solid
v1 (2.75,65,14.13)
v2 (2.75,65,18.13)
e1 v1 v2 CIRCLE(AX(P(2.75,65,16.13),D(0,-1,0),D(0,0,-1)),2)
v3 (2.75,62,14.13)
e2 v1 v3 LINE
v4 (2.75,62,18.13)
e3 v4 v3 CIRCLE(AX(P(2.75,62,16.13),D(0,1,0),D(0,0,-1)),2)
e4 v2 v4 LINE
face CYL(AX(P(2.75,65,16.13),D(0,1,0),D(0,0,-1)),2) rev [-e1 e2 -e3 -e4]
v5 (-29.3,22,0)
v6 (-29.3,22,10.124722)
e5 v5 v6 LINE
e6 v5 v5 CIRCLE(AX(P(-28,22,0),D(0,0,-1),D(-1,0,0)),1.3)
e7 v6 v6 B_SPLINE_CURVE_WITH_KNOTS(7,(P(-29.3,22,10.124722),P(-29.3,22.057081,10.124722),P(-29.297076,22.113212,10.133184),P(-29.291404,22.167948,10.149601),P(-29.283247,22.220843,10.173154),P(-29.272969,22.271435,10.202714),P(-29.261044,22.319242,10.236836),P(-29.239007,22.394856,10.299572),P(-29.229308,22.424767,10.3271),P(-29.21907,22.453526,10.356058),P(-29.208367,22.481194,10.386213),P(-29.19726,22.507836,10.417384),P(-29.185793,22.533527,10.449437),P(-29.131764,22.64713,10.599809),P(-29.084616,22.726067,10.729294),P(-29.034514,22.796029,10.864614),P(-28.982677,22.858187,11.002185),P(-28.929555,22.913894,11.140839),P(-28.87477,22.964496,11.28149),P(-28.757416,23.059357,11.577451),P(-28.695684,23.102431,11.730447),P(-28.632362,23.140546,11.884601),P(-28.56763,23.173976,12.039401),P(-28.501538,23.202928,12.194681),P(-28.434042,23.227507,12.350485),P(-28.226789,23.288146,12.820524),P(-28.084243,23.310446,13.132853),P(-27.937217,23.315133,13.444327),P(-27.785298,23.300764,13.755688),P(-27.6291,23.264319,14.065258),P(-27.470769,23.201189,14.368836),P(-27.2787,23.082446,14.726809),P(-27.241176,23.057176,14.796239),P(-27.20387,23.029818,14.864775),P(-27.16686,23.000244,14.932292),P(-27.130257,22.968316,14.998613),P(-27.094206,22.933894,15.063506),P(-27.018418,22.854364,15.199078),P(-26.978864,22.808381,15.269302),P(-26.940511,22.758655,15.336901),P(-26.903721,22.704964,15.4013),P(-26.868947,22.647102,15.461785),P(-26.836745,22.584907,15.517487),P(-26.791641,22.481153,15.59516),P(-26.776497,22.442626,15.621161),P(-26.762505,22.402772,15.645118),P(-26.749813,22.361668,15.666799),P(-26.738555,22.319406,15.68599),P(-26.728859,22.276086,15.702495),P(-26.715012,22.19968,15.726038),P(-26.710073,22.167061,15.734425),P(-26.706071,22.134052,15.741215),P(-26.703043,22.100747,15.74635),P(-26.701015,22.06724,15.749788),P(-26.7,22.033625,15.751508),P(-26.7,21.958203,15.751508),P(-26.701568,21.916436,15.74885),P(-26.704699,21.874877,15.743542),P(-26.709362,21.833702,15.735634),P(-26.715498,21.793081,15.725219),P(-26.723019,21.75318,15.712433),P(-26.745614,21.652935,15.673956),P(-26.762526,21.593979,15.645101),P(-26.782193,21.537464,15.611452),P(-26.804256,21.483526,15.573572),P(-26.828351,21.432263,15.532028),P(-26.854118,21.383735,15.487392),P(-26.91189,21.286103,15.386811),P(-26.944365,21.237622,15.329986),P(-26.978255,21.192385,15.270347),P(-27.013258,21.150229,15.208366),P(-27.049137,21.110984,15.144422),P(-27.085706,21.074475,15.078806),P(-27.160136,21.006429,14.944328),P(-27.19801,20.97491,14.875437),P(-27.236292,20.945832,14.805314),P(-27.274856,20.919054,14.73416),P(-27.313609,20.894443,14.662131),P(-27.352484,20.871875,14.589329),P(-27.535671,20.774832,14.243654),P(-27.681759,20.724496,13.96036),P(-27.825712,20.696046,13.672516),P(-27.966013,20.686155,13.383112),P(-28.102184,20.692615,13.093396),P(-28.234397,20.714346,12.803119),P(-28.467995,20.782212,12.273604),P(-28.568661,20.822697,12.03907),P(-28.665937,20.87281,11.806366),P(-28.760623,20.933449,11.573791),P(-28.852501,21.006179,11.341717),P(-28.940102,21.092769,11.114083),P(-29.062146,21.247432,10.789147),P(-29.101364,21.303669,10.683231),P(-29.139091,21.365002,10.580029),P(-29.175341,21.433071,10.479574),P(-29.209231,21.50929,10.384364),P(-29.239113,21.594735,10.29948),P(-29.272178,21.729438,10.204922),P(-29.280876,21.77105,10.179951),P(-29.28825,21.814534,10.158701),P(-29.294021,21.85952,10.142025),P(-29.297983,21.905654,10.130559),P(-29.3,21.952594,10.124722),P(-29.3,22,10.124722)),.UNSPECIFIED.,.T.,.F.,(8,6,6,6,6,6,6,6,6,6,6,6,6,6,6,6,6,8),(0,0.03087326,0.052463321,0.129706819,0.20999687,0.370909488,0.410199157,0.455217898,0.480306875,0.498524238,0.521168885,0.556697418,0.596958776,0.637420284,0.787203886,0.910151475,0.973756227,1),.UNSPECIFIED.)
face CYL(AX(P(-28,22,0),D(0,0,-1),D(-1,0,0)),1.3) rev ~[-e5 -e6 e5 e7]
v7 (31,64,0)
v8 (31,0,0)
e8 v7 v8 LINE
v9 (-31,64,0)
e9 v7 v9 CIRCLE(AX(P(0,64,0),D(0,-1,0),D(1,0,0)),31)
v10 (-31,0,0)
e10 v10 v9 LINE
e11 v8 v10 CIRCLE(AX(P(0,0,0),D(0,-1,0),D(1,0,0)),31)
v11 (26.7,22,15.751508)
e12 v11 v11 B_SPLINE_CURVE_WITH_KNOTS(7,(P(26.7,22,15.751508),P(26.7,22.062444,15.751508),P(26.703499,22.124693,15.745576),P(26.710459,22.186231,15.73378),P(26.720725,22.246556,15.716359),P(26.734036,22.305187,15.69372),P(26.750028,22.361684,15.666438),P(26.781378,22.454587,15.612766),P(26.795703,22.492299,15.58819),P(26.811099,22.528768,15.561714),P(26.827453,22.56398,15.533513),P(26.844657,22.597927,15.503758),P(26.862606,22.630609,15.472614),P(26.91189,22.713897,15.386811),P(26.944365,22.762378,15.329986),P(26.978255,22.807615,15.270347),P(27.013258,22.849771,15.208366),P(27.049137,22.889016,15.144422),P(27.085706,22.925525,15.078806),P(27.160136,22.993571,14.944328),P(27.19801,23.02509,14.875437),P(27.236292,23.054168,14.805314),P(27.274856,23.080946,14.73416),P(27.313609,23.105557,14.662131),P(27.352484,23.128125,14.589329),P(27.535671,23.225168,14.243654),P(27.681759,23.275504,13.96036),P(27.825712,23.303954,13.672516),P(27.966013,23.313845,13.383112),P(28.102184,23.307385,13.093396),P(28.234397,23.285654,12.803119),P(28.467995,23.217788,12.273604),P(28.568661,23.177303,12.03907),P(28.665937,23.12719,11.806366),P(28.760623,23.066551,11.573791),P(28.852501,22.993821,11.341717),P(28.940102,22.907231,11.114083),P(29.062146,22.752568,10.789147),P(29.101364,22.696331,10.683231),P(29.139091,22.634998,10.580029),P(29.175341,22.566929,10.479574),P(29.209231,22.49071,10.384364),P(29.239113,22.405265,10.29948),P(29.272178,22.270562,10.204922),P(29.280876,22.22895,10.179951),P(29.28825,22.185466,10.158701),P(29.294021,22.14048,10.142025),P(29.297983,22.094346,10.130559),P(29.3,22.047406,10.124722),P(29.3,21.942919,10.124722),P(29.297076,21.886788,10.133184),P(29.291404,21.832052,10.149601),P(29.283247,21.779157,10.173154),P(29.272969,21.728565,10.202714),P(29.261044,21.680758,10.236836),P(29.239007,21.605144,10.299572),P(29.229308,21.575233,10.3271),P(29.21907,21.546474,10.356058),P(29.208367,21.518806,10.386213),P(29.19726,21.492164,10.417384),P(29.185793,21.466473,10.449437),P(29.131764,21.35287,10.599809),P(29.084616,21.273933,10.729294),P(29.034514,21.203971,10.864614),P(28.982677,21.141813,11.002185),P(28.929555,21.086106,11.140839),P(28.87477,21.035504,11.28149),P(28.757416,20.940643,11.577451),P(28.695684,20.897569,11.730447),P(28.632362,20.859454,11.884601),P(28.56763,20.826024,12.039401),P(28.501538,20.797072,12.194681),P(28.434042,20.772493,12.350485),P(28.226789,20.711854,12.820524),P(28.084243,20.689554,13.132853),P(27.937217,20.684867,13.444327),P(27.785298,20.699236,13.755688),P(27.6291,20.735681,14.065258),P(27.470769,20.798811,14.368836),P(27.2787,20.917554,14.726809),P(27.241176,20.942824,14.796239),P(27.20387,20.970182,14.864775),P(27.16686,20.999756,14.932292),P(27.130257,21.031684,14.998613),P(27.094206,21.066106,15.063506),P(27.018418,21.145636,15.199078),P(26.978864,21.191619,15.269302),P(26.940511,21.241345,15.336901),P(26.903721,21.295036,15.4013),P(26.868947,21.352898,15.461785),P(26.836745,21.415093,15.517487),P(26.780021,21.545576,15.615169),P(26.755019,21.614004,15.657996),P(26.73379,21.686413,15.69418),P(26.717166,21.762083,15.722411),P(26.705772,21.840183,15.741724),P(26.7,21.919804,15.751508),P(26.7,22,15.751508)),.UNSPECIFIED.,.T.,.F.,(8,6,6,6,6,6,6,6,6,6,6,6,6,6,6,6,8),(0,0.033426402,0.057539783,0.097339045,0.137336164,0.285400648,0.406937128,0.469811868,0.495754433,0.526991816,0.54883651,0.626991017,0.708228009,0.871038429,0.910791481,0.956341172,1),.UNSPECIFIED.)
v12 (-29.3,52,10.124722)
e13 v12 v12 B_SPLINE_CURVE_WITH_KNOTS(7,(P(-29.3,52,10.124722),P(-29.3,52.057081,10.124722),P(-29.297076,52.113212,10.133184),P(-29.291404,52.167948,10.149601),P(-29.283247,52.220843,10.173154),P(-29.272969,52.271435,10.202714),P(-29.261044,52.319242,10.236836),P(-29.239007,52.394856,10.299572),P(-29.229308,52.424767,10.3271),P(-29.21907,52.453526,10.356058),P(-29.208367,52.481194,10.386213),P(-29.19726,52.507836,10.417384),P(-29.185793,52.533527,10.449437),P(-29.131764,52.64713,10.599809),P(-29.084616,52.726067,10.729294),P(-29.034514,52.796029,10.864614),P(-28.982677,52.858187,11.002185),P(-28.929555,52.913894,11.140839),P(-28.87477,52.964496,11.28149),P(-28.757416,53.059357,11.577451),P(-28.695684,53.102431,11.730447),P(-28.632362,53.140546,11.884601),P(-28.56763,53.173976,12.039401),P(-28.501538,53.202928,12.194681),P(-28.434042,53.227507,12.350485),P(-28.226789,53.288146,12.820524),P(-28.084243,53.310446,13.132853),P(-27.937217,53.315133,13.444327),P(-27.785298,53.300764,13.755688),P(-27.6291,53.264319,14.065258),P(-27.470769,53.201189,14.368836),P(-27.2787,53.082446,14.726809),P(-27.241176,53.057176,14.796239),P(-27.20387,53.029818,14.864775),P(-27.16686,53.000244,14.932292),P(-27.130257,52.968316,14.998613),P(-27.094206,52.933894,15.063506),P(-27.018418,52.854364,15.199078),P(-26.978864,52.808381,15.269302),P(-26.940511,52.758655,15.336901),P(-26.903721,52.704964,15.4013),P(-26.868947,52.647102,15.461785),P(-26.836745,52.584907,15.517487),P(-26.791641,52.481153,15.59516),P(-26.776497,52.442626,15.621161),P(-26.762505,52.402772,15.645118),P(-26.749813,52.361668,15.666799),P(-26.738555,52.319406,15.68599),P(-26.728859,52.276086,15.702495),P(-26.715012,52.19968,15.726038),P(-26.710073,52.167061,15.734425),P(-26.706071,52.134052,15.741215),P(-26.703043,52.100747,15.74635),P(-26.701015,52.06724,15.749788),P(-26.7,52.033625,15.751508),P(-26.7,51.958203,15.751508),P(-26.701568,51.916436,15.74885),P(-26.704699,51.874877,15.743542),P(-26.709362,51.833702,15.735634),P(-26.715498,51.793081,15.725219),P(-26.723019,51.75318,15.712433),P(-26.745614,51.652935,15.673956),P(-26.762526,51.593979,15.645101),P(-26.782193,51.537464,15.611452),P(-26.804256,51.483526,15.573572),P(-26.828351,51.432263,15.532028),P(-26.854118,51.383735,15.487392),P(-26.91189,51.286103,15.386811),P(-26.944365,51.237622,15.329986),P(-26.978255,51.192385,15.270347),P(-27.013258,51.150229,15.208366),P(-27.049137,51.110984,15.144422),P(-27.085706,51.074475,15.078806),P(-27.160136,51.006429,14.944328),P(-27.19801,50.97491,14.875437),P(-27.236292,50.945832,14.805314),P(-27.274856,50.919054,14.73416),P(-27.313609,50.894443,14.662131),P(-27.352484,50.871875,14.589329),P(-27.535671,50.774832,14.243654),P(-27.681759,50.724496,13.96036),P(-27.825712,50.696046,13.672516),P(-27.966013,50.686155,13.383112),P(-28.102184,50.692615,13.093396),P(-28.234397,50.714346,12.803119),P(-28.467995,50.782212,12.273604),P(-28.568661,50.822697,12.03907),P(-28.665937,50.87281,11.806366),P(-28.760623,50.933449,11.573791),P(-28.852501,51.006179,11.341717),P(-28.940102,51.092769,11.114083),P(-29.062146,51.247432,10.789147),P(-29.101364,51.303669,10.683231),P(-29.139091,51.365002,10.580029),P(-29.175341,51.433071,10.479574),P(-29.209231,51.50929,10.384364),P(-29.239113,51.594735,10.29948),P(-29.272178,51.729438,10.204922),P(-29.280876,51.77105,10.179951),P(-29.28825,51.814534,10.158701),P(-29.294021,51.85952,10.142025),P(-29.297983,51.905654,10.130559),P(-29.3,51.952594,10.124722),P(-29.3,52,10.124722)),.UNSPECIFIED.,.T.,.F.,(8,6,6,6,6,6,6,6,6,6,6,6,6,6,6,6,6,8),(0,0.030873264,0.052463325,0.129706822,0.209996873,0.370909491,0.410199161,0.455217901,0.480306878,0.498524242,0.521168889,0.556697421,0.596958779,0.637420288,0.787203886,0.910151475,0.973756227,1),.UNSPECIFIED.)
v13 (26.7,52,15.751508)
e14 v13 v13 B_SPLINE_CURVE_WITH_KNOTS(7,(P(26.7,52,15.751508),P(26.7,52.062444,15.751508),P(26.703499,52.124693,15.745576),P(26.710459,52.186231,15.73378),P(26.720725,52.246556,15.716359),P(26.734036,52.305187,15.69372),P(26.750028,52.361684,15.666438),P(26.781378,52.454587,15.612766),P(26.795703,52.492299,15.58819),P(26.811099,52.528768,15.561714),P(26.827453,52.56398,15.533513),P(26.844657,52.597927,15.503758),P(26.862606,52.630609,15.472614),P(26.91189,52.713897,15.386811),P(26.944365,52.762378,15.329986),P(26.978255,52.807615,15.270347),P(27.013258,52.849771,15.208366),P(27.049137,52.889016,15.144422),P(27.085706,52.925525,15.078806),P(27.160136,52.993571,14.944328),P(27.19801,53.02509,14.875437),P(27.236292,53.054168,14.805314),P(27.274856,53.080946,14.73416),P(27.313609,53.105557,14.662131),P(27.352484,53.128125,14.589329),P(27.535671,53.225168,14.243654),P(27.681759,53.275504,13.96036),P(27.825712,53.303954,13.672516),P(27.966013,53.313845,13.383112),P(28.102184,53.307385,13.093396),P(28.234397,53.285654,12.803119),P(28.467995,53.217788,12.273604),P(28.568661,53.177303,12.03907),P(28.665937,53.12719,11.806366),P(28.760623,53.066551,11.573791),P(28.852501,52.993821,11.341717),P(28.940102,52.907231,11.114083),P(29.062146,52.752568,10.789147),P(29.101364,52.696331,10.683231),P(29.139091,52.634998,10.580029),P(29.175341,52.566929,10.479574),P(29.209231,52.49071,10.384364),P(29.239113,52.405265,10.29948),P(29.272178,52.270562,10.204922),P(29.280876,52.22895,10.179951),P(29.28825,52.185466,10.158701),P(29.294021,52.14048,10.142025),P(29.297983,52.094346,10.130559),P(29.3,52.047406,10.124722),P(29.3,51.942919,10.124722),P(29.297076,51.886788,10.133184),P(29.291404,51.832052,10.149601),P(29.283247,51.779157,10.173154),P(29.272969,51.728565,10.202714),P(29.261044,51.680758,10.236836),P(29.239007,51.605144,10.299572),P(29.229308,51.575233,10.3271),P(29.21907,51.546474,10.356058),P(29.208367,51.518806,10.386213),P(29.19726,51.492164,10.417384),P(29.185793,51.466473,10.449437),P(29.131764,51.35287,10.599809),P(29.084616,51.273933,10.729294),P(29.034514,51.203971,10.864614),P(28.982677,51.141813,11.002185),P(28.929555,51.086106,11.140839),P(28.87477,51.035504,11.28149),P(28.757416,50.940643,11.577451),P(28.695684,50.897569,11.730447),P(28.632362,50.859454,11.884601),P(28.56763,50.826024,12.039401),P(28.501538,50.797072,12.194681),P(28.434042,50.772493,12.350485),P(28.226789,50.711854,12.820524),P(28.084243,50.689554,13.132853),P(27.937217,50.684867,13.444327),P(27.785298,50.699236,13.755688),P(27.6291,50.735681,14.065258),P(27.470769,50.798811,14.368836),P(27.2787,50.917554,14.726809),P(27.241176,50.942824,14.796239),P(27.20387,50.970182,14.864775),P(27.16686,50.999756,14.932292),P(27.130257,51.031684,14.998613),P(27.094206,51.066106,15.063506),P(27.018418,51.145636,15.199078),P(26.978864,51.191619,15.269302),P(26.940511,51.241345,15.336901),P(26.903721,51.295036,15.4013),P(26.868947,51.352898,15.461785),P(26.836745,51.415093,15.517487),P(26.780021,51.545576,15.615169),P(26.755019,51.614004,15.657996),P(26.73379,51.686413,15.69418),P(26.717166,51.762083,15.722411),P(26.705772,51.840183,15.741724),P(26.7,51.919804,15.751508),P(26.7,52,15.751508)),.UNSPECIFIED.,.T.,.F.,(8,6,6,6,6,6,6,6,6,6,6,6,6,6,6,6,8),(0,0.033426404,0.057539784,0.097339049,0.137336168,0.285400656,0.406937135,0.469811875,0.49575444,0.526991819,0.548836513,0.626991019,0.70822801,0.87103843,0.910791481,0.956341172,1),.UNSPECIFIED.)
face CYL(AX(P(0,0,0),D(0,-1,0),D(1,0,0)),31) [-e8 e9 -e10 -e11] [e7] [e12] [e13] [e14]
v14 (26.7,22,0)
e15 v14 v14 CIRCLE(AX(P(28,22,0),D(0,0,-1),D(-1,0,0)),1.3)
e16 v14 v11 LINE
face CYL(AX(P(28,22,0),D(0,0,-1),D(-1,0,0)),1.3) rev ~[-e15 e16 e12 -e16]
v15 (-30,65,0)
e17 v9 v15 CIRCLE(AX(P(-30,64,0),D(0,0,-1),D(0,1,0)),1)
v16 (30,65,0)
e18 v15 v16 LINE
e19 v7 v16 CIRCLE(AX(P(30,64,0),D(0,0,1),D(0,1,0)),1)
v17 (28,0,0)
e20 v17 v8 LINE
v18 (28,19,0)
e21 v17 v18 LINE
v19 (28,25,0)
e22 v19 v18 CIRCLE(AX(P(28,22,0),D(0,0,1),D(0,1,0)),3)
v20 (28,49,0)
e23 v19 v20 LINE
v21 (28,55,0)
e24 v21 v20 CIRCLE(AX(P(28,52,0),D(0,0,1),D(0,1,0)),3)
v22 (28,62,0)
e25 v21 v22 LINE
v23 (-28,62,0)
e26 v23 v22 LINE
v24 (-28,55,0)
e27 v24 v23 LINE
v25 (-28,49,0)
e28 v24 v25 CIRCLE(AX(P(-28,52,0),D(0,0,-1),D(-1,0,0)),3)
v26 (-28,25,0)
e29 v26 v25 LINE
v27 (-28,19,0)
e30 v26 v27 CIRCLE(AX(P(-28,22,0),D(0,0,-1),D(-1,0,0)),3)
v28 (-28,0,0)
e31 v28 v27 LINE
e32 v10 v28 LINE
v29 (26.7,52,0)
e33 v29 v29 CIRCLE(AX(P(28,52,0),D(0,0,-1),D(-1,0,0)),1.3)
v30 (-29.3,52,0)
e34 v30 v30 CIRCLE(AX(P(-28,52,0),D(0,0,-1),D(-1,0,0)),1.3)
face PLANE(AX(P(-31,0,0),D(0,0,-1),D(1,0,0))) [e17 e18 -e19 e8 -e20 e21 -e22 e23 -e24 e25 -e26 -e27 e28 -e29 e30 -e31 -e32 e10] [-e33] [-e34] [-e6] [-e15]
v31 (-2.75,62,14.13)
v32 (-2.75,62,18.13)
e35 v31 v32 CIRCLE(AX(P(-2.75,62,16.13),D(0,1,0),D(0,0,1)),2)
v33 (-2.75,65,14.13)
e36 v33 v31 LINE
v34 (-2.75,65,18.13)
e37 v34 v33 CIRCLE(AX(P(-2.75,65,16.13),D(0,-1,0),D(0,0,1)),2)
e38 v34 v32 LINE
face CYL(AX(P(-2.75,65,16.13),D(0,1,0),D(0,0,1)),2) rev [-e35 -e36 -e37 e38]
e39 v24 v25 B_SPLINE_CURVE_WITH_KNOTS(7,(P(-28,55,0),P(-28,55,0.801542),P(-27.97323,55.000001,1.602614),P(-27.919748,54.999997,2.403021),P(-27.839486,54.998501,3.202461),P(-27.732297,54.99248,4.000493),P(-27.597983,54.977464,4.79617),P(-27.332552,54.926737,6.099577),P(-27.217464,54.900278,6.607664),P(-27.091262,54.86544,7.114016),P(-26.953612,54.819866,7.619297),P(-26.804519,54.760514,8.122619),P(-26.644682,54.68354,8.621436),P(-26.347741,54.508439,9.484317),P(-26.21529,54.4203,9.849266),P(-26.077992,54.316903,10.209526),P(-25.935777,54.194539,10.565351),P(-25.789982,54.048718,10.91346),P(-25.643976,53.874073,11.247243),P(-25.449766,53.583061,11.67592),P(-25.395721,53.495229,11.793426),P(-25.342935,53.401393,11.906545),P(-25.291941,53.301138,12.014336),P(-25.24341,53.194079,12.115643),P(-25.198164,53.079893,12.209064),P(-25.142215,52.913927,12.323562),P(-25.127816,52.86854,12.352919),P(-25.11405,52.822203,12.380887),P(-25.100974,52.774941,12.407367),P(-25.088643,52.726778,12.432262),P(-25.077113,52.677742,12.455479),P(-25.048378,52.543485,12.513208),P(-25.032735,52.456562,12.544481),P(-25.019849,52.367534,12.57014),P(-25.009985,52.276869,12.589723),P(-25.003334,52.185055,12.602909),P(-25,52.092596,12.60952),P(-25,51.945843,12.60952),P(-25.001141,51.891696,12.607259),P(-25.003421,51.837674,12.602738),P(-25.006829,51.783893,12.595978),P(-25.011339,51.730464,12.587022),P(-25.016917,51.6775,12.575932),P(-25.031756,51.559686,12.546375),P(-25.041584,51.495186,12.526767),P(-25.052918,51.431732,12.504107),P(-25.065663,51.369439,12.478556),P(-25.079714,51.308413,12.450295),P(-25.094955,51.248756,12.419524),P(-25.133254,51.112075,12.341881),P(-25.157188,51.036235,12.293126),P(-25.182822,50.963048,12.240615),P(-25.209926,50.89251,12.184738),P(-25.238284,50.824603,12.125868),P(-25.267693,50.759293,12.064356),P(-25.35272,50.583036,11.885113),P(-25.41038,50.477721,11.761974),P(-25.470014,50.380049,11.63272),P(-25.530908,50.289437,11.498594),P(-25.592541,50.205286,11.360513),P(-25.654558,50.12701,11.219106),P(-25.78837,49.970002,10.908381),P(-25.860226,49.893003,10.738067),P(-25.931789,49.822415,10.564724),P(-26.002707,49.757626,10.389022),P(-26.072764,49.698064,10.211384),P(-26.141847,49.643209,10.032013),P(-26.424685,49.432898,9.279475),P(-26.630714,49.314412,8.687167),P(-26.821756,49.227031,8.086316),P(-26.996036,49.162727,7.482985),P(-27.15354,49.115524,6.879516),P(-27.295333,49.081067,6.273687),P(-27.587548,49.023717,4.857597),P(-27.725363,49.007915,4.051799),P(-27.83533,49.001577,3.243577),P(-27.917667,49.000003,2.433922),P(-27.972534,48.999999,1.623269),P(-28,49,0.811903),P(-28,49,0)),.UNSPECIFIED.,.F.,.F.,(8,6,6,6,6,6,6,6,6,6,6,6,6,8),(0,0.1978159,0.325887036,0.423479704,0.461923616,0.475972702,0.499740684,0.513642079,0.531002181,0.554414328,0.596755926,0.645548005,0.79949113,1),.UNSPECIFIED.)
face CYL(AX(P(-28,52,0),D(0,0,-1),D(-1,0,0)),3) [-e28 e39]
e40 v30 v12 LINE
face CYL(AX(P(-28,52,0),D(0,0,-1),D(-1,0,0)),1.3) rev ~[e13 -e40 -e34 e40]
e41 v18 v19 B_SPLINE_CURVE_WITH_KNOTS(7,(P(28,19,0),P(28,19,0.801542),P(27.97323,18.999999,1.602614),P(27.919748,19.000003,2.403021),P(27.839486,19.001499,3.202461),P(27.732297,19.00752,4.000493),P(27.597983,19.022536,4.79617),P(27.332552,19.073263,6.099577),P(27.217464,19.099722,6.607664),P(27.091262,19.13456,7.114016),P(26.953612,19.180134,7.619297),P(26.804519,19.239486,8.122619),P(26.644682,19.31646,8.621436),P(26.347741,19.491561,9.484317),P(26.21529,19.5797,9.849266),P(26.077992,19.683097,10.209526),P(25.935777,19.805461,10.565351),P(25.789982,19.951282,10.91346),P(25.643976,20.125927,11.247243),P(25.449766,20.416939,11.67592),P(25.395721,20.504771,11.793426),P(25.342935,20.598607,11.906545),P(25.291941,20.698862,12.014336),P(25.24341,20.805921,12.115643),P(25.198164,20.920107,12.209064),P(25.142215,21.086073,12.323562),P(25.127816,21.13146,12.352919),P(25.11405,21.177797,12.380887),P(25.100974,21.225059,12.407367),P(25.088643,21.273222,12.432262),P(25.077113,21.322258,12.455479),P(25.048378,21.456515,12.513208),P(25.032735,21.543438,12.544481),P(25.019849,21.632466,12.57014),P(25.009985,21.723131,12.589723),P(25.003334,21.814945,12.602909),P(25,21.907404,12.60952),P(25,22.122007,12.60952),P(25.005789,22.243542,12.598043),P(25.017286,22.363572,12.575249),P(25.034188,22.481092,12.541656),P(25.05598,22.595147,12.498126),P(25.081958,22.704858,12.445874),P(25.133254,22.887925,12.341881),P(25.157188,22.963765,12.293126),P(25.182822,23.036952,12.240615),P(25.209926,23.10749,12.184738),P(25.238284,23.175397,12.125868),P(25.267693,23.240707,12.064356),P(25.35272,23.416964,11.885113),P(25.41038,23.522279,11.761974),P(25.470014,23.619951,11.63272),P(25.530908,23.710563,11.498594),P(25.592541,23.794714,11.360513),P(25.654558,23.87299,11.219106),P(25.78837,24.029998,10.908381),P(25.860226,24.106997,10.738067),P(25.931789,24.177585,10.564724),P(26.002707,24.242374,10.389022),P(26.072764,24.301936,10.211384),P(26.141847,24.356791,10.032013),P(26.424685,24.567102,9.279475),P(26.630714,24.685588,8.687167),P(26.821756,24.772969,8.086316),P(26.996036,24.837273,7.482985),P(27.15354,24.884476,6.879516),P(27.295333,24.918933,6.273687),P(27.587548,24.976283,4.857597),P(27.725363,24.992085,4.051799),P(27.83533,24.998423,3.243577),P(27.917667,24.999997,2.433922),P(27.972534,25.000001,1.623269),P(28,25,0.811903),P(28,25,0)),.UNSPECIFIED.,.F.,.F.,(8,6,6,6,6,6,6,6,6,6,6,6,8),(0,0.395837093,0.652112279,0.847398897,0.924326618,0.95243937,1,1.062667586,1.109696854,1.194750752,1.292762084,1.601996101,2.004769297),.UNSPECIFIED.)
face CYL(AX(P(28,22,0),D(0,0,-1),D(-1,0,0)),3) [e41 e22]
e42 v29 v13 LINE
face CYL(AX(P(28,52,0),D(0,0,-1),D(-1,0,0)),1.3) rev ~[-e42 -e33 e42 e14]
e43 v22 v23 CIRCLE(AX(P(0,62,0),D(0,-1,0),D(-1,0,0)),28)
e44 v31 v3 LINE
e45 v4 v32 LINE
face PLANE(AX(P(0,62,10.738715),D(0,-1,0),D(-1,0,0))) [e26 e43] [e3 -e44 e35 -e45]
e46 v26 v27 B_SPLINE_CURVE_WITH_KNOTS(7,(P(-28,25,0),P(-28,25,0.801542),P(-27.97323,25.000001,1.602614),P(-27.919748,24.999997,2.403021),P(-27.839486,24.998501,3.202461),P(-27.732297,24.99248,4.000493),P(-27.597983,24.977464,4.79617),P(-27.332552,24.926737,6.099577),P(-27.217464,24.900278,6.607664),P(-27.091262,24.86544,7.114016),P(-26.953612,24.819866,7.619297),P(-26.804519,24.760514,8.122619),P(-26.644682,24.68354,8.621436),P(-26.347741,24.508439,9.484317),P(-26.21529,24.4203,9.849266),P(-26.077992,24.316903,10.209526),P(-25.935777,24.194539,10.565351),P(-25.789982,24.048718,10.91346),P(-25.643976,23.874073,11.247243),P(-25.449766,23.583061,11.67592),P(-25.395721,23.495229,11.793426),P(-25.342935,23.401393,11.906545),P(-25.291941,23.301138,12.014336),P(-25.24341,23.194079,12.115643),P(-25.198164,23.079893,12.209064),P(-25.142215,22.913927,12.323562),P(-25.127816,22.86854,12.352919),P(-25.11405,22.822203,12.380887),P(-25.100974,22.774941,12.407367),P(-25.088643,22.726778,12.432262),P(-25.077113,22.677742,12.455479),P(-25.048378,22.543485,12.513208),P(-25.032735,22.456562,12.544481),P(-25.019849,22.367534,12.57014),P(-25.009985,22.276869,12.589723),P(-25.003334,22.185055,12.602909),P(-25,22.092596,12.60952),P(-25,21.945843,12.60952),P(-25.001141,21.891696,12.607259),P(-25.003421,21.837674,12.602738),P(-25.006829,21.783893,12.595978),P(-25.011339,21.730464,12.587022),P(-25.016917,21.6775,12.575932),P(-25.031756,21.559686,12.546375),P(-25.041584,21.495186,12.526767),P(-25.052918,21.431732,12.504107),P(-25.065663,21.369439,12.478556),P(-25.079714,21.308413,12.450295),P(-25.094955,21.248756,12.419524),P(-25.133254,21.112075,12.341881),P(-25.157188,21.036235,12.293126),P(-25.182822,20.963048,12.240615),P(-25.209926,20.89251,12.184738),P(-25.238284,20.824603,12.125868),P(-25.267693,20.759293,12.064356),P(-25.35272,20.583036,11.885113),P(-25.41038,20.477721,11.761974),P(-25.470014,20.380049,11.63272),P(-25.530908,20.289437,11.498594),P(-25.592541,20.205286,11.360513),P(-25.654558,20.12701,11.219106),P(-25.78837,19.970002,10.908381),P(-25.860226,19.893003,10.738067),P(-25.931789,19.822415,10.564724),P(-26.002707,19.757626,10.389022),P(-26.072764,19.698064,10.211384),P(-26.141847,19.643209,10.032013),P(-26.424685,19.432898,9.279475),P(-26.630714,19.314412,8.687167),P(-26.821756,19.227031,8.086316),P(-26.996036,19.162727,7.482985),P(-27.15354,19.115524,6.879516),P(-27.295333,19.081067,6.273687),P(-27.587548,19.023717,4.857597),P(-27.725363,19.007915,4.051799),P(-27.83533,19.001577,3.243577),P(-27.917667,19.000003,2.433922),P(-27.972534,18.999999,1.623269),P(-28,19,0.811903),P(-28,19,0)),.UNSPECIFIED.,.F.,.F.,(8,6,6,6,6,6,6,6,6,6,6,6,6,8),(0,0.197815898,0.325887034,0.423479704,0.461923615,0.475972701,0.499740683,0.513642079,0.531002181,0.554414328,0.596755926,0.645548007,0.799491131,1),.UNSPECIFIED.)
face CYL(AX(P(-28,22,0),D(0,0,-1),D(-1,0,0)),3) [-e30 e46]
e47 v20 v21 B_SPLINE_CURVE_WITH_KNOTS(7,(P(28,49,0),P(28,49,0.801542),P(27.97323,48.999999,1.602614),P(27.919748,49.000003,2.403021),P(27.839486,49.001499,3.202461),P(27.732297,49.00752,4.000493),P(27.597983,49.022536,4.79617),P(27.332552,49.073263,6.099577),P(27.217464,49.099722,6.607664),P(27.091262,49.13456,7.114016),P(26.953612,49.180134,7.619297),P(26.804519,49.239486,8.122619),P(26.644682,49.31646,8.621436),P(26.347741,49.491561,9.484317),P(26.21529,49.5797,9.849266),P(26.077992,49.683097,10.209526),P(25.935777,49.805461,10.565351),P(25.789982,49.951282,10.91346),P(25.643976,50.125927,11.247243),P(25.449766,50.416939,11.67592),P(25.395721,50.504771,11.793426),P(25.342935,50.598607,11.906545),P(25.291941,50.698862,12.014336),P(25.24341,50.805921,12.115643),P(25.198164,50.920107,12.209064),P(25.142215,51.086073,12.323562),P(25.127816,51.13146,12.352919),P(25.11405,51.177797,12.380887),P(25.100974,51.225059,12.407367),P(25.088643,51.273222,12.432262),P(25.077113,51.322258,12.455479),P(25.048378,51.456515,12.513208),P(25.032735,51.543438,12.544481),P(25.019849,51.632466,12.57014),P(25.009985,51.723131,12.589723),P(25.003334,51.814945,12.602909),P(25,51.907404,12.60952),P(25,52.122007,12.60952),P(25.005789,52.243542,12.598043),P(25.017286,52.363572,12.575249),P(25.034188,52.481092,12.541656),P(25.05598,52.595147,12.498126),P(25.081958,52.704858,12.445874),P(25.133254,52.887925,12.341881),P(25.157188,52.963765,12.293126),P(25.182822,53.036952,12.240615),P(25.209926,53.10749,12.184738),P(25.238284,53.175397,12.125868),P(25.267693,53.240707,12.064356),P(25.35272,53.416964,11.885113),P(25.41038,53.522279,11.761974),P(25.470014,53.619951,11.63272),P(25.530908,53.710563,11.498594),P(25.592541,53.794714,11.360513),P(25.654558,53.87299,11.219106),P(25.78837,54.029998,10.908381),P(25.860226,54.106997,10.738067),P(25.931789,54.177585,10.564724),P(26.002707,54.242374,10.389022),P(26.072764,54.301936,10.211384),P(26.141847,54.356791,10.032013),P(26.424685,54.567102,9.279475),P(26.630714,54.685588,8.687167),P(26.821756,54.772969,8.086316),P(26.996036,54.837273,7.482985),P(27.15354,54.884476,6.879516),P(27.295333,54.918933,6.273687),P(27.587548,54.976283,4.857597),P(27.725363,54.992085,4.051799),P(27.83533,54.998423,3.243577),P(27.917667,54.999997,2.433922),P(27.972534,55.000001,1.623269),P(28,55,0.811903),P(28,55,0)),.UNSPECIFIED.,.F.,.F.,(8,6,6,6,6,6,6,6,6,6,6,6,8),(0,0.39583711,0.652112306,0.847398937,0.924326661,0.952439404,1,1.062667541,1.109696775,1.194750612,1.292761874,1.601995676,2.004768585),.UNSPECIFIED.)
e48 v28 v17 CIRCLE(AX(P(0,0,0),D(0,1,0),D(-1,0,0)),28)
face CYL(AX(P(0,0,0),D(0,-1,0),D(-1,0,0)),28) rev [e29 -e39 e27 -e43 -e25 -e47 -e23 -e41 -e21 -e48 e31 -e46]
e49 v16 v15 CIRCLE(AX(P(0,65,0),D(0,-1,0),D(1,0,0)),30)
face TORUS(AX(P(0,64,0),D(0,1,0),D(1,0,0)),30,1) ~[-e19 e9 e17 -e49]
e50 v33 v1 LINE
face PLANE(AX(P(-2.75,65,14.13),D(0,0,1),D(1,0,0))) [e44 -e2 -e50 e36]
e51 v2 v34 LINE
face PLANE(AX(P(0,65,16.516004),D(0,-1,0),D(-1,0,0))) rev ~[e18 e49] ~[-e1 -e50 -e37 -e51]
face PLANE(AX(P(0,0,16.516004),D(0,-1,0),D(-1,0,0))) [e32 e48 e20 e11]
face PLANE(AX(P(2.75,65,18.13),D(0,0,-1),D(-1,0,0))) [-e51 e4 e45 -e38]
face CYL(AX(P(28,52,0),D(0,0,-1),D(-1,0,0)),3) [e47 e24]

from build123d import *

# Parameters (mm, degrees)
EXTRUDE_1_DEPTH     = 65
EXTRUDE_5_REACH     = 80.403
SKETCH_12_R         = 3
SKETCH_16_R         = 1.3
CUT_EXTRUDE_2_DEPTH = 79.402806155
EXTRUDE_START       = -3
EXTRUDE_6_DEPTH     = 3
FILLET_1_R          = 1
CUT_EXTRUDE_3_REACH = 80.403


with BuildPart() as part:
    # Эскиз1 → Бобышка-Вытянуть1 (new body)
    with BuildSketch(Plane(origin=(0, 0, 0), x_dir=(1, 0, 0), z_dir=(0, 1, 0))):
        with BuildLine():
            Line((-31, 0), (-28, 0))
            ThreePointArc((-28, 0), (0, -28), (28, 0))
            Line((28, 0), (31, 0))
            ThreePointArc((31, 0), (0, -31), (-31, 0))
        make_face()
    extrude(amount=EXTRUDE_1_DEPTH)

    # Эскиз12 → Бобышка-Вытянуть5 (add, up to next)
    with BuildSketch(Plane(origin=(0, 0, 0), x_dir=(-1, 0, 0), z_dir=(0, 0, -1)), mode=Mode.PRIVATE) as extrude_5_sk1:
        with Locations((28, 52)):
            Circle(SKETCH_12_R)
    extrude_5_tool1 = extrude(extrude_5_sk1.sketch, amount=-EXTRUDE_5_REACH, mode=Mode.PRIVATE) - part.part
    # Эскиз12 → Бобышка-Вытянуть5 (add, up to next)
    with BuildSketch(Plane(origin=(0, 0, 0), x_dir=(-1, 0, 0), z_dir=(0, 0, -1)), mode=Mode.PRIVATE) as extrude_5_sk2:
        with Locations((28, 22)):
            Circle(SKETCH_12_R)
    extrude_5_tool2 = extrude(extrude_5_sk2.sketch, amount=-EXTRUDE_5_REACH, mode=Mode.PRIVATE) - part.part
    # Эскиз12 → Бобышка-Вытянуть5 (add, up to next)
    with BuildSketch(Plane(origin=(0, 0, 0), x_dir=(-1, 0, 0), z_dir=(0, 0, -1)), mode=Mode.PRIVATE) as extrude_5_sk3:
        with Locations((-28, 52)):
            Circle(SKETCH_12_R)
    extrude_5_tool3 = extrude(extrude_5_sk3.sketch, amount=-EXTRUDE_5_REACH, mode=Mode.PRIVATE) - part.part
    # Эскиз12 → Бобышка-Вытянуть5 (add, up to next)
    with BuildSketch(Plane(origin=(0, 0, 0), x_dir=(-1, 0, 0), z_dir=(0, 0, -1)), mode=Mode.PRIVATE) as extrude_5_sk4:
        with Locations((-28, 22)):
            Circle(SKETCH_12_R)
    extrude_5_tool4 = extrude(extrude_5_sk4.sketch, amount=-EXTRUDE_5_REACH, mode=Mode.PRIVATE) - part.part
    add(extrude_5_tool1.solids().sort_by_distance((-28, 52, 0))[0])
    add(extrude_5_tool2.solids().sort_by_distance((-28, 22, 0))[0])
    add(extrude_5_tool3.solids().sort_by_distance((28, 52, 0))[0])
    add(extrude_5_tool4.solids().sort_by_distance((28, 22, 0))[0])

    # Эскиз16 → Вырез-Вытянуть2 (cut, through all)
    with BuildSketch(Plane(origin=(0, 0, 0), x_dir=(-1, 0, 0), z_dir=(0, 0, -1))):
        with Locations((28, 52)):
            Circle(SKETCH_16_R)
        with Locations((28, 22)):
            Circle(SKETCH_16_R)
        with Locations((-28, 22)):
            Circle(SKETCH_16_R)
        with Locations((-28, 52)):
            Circle(SKETCH_16_R)
    extrude(amount=-CUT_EXTRUDE_2_DEPTH, mode=Mode.SUBTRACT)

    # Эскиз2 → Бобышка-Вытянуть6 (add)
    with BuildSketch(Plane(origin=(0, 65, 0), x_dir=(1, 0, 0), z_dir=(0, 1, 0)).offset(EXTRUDE_START)):
        with BuildLine():
            Line((-31, 0), (31, 0))
            ThreePointArc((31, 0), (0, -31), (-31, 0))
        make_face()
    extrude(amount=EXTRUDE_6_DEPTH)

    # Скругление1
    fillet_1_edges = [part.edges().sort_by_distance(p)[0] for p in [
        (0, 65, 31),
    ]]
    fillet(fillet_1_edges, radius=FILLET_1_R)

    # Эскиз18 → Вырез-Вытянуть3 (cut, up to next)
    with BuildSketch(Plane(origin=(0, 65, 0), x_dir=(1, 0, 0), z_dir=(0, 1, 0)), mode=Mode.PRIVATE) as cut_extrude_3_sk1:
        with BuildLine():
            Line((-2.75, -14.13), (2.75, -14.13))
            ThreePointArc((2.75, -14.13), (4.75, -16.13), (2.75, -18.13))
            Line((2.75, -18.13), (-2.75, -18.13))
            ThreePointArc((-2.75, -18.13), (-4.75, -16.13), (-2.75, -14.13))
        make_face()
    cut_extrude_3_tool1 = extrude(cut_extrude_3_sk1.sketch, amount=-CUT_EXTRUDE_3_REACH, mode=Mode.PRIVATE) & part.part
    add(cut_extrude_3_tool1.solids().sort_by_distance((0, 65, 16.13))[0], mode=Mode.SUBTRACT)


solid = part.part
